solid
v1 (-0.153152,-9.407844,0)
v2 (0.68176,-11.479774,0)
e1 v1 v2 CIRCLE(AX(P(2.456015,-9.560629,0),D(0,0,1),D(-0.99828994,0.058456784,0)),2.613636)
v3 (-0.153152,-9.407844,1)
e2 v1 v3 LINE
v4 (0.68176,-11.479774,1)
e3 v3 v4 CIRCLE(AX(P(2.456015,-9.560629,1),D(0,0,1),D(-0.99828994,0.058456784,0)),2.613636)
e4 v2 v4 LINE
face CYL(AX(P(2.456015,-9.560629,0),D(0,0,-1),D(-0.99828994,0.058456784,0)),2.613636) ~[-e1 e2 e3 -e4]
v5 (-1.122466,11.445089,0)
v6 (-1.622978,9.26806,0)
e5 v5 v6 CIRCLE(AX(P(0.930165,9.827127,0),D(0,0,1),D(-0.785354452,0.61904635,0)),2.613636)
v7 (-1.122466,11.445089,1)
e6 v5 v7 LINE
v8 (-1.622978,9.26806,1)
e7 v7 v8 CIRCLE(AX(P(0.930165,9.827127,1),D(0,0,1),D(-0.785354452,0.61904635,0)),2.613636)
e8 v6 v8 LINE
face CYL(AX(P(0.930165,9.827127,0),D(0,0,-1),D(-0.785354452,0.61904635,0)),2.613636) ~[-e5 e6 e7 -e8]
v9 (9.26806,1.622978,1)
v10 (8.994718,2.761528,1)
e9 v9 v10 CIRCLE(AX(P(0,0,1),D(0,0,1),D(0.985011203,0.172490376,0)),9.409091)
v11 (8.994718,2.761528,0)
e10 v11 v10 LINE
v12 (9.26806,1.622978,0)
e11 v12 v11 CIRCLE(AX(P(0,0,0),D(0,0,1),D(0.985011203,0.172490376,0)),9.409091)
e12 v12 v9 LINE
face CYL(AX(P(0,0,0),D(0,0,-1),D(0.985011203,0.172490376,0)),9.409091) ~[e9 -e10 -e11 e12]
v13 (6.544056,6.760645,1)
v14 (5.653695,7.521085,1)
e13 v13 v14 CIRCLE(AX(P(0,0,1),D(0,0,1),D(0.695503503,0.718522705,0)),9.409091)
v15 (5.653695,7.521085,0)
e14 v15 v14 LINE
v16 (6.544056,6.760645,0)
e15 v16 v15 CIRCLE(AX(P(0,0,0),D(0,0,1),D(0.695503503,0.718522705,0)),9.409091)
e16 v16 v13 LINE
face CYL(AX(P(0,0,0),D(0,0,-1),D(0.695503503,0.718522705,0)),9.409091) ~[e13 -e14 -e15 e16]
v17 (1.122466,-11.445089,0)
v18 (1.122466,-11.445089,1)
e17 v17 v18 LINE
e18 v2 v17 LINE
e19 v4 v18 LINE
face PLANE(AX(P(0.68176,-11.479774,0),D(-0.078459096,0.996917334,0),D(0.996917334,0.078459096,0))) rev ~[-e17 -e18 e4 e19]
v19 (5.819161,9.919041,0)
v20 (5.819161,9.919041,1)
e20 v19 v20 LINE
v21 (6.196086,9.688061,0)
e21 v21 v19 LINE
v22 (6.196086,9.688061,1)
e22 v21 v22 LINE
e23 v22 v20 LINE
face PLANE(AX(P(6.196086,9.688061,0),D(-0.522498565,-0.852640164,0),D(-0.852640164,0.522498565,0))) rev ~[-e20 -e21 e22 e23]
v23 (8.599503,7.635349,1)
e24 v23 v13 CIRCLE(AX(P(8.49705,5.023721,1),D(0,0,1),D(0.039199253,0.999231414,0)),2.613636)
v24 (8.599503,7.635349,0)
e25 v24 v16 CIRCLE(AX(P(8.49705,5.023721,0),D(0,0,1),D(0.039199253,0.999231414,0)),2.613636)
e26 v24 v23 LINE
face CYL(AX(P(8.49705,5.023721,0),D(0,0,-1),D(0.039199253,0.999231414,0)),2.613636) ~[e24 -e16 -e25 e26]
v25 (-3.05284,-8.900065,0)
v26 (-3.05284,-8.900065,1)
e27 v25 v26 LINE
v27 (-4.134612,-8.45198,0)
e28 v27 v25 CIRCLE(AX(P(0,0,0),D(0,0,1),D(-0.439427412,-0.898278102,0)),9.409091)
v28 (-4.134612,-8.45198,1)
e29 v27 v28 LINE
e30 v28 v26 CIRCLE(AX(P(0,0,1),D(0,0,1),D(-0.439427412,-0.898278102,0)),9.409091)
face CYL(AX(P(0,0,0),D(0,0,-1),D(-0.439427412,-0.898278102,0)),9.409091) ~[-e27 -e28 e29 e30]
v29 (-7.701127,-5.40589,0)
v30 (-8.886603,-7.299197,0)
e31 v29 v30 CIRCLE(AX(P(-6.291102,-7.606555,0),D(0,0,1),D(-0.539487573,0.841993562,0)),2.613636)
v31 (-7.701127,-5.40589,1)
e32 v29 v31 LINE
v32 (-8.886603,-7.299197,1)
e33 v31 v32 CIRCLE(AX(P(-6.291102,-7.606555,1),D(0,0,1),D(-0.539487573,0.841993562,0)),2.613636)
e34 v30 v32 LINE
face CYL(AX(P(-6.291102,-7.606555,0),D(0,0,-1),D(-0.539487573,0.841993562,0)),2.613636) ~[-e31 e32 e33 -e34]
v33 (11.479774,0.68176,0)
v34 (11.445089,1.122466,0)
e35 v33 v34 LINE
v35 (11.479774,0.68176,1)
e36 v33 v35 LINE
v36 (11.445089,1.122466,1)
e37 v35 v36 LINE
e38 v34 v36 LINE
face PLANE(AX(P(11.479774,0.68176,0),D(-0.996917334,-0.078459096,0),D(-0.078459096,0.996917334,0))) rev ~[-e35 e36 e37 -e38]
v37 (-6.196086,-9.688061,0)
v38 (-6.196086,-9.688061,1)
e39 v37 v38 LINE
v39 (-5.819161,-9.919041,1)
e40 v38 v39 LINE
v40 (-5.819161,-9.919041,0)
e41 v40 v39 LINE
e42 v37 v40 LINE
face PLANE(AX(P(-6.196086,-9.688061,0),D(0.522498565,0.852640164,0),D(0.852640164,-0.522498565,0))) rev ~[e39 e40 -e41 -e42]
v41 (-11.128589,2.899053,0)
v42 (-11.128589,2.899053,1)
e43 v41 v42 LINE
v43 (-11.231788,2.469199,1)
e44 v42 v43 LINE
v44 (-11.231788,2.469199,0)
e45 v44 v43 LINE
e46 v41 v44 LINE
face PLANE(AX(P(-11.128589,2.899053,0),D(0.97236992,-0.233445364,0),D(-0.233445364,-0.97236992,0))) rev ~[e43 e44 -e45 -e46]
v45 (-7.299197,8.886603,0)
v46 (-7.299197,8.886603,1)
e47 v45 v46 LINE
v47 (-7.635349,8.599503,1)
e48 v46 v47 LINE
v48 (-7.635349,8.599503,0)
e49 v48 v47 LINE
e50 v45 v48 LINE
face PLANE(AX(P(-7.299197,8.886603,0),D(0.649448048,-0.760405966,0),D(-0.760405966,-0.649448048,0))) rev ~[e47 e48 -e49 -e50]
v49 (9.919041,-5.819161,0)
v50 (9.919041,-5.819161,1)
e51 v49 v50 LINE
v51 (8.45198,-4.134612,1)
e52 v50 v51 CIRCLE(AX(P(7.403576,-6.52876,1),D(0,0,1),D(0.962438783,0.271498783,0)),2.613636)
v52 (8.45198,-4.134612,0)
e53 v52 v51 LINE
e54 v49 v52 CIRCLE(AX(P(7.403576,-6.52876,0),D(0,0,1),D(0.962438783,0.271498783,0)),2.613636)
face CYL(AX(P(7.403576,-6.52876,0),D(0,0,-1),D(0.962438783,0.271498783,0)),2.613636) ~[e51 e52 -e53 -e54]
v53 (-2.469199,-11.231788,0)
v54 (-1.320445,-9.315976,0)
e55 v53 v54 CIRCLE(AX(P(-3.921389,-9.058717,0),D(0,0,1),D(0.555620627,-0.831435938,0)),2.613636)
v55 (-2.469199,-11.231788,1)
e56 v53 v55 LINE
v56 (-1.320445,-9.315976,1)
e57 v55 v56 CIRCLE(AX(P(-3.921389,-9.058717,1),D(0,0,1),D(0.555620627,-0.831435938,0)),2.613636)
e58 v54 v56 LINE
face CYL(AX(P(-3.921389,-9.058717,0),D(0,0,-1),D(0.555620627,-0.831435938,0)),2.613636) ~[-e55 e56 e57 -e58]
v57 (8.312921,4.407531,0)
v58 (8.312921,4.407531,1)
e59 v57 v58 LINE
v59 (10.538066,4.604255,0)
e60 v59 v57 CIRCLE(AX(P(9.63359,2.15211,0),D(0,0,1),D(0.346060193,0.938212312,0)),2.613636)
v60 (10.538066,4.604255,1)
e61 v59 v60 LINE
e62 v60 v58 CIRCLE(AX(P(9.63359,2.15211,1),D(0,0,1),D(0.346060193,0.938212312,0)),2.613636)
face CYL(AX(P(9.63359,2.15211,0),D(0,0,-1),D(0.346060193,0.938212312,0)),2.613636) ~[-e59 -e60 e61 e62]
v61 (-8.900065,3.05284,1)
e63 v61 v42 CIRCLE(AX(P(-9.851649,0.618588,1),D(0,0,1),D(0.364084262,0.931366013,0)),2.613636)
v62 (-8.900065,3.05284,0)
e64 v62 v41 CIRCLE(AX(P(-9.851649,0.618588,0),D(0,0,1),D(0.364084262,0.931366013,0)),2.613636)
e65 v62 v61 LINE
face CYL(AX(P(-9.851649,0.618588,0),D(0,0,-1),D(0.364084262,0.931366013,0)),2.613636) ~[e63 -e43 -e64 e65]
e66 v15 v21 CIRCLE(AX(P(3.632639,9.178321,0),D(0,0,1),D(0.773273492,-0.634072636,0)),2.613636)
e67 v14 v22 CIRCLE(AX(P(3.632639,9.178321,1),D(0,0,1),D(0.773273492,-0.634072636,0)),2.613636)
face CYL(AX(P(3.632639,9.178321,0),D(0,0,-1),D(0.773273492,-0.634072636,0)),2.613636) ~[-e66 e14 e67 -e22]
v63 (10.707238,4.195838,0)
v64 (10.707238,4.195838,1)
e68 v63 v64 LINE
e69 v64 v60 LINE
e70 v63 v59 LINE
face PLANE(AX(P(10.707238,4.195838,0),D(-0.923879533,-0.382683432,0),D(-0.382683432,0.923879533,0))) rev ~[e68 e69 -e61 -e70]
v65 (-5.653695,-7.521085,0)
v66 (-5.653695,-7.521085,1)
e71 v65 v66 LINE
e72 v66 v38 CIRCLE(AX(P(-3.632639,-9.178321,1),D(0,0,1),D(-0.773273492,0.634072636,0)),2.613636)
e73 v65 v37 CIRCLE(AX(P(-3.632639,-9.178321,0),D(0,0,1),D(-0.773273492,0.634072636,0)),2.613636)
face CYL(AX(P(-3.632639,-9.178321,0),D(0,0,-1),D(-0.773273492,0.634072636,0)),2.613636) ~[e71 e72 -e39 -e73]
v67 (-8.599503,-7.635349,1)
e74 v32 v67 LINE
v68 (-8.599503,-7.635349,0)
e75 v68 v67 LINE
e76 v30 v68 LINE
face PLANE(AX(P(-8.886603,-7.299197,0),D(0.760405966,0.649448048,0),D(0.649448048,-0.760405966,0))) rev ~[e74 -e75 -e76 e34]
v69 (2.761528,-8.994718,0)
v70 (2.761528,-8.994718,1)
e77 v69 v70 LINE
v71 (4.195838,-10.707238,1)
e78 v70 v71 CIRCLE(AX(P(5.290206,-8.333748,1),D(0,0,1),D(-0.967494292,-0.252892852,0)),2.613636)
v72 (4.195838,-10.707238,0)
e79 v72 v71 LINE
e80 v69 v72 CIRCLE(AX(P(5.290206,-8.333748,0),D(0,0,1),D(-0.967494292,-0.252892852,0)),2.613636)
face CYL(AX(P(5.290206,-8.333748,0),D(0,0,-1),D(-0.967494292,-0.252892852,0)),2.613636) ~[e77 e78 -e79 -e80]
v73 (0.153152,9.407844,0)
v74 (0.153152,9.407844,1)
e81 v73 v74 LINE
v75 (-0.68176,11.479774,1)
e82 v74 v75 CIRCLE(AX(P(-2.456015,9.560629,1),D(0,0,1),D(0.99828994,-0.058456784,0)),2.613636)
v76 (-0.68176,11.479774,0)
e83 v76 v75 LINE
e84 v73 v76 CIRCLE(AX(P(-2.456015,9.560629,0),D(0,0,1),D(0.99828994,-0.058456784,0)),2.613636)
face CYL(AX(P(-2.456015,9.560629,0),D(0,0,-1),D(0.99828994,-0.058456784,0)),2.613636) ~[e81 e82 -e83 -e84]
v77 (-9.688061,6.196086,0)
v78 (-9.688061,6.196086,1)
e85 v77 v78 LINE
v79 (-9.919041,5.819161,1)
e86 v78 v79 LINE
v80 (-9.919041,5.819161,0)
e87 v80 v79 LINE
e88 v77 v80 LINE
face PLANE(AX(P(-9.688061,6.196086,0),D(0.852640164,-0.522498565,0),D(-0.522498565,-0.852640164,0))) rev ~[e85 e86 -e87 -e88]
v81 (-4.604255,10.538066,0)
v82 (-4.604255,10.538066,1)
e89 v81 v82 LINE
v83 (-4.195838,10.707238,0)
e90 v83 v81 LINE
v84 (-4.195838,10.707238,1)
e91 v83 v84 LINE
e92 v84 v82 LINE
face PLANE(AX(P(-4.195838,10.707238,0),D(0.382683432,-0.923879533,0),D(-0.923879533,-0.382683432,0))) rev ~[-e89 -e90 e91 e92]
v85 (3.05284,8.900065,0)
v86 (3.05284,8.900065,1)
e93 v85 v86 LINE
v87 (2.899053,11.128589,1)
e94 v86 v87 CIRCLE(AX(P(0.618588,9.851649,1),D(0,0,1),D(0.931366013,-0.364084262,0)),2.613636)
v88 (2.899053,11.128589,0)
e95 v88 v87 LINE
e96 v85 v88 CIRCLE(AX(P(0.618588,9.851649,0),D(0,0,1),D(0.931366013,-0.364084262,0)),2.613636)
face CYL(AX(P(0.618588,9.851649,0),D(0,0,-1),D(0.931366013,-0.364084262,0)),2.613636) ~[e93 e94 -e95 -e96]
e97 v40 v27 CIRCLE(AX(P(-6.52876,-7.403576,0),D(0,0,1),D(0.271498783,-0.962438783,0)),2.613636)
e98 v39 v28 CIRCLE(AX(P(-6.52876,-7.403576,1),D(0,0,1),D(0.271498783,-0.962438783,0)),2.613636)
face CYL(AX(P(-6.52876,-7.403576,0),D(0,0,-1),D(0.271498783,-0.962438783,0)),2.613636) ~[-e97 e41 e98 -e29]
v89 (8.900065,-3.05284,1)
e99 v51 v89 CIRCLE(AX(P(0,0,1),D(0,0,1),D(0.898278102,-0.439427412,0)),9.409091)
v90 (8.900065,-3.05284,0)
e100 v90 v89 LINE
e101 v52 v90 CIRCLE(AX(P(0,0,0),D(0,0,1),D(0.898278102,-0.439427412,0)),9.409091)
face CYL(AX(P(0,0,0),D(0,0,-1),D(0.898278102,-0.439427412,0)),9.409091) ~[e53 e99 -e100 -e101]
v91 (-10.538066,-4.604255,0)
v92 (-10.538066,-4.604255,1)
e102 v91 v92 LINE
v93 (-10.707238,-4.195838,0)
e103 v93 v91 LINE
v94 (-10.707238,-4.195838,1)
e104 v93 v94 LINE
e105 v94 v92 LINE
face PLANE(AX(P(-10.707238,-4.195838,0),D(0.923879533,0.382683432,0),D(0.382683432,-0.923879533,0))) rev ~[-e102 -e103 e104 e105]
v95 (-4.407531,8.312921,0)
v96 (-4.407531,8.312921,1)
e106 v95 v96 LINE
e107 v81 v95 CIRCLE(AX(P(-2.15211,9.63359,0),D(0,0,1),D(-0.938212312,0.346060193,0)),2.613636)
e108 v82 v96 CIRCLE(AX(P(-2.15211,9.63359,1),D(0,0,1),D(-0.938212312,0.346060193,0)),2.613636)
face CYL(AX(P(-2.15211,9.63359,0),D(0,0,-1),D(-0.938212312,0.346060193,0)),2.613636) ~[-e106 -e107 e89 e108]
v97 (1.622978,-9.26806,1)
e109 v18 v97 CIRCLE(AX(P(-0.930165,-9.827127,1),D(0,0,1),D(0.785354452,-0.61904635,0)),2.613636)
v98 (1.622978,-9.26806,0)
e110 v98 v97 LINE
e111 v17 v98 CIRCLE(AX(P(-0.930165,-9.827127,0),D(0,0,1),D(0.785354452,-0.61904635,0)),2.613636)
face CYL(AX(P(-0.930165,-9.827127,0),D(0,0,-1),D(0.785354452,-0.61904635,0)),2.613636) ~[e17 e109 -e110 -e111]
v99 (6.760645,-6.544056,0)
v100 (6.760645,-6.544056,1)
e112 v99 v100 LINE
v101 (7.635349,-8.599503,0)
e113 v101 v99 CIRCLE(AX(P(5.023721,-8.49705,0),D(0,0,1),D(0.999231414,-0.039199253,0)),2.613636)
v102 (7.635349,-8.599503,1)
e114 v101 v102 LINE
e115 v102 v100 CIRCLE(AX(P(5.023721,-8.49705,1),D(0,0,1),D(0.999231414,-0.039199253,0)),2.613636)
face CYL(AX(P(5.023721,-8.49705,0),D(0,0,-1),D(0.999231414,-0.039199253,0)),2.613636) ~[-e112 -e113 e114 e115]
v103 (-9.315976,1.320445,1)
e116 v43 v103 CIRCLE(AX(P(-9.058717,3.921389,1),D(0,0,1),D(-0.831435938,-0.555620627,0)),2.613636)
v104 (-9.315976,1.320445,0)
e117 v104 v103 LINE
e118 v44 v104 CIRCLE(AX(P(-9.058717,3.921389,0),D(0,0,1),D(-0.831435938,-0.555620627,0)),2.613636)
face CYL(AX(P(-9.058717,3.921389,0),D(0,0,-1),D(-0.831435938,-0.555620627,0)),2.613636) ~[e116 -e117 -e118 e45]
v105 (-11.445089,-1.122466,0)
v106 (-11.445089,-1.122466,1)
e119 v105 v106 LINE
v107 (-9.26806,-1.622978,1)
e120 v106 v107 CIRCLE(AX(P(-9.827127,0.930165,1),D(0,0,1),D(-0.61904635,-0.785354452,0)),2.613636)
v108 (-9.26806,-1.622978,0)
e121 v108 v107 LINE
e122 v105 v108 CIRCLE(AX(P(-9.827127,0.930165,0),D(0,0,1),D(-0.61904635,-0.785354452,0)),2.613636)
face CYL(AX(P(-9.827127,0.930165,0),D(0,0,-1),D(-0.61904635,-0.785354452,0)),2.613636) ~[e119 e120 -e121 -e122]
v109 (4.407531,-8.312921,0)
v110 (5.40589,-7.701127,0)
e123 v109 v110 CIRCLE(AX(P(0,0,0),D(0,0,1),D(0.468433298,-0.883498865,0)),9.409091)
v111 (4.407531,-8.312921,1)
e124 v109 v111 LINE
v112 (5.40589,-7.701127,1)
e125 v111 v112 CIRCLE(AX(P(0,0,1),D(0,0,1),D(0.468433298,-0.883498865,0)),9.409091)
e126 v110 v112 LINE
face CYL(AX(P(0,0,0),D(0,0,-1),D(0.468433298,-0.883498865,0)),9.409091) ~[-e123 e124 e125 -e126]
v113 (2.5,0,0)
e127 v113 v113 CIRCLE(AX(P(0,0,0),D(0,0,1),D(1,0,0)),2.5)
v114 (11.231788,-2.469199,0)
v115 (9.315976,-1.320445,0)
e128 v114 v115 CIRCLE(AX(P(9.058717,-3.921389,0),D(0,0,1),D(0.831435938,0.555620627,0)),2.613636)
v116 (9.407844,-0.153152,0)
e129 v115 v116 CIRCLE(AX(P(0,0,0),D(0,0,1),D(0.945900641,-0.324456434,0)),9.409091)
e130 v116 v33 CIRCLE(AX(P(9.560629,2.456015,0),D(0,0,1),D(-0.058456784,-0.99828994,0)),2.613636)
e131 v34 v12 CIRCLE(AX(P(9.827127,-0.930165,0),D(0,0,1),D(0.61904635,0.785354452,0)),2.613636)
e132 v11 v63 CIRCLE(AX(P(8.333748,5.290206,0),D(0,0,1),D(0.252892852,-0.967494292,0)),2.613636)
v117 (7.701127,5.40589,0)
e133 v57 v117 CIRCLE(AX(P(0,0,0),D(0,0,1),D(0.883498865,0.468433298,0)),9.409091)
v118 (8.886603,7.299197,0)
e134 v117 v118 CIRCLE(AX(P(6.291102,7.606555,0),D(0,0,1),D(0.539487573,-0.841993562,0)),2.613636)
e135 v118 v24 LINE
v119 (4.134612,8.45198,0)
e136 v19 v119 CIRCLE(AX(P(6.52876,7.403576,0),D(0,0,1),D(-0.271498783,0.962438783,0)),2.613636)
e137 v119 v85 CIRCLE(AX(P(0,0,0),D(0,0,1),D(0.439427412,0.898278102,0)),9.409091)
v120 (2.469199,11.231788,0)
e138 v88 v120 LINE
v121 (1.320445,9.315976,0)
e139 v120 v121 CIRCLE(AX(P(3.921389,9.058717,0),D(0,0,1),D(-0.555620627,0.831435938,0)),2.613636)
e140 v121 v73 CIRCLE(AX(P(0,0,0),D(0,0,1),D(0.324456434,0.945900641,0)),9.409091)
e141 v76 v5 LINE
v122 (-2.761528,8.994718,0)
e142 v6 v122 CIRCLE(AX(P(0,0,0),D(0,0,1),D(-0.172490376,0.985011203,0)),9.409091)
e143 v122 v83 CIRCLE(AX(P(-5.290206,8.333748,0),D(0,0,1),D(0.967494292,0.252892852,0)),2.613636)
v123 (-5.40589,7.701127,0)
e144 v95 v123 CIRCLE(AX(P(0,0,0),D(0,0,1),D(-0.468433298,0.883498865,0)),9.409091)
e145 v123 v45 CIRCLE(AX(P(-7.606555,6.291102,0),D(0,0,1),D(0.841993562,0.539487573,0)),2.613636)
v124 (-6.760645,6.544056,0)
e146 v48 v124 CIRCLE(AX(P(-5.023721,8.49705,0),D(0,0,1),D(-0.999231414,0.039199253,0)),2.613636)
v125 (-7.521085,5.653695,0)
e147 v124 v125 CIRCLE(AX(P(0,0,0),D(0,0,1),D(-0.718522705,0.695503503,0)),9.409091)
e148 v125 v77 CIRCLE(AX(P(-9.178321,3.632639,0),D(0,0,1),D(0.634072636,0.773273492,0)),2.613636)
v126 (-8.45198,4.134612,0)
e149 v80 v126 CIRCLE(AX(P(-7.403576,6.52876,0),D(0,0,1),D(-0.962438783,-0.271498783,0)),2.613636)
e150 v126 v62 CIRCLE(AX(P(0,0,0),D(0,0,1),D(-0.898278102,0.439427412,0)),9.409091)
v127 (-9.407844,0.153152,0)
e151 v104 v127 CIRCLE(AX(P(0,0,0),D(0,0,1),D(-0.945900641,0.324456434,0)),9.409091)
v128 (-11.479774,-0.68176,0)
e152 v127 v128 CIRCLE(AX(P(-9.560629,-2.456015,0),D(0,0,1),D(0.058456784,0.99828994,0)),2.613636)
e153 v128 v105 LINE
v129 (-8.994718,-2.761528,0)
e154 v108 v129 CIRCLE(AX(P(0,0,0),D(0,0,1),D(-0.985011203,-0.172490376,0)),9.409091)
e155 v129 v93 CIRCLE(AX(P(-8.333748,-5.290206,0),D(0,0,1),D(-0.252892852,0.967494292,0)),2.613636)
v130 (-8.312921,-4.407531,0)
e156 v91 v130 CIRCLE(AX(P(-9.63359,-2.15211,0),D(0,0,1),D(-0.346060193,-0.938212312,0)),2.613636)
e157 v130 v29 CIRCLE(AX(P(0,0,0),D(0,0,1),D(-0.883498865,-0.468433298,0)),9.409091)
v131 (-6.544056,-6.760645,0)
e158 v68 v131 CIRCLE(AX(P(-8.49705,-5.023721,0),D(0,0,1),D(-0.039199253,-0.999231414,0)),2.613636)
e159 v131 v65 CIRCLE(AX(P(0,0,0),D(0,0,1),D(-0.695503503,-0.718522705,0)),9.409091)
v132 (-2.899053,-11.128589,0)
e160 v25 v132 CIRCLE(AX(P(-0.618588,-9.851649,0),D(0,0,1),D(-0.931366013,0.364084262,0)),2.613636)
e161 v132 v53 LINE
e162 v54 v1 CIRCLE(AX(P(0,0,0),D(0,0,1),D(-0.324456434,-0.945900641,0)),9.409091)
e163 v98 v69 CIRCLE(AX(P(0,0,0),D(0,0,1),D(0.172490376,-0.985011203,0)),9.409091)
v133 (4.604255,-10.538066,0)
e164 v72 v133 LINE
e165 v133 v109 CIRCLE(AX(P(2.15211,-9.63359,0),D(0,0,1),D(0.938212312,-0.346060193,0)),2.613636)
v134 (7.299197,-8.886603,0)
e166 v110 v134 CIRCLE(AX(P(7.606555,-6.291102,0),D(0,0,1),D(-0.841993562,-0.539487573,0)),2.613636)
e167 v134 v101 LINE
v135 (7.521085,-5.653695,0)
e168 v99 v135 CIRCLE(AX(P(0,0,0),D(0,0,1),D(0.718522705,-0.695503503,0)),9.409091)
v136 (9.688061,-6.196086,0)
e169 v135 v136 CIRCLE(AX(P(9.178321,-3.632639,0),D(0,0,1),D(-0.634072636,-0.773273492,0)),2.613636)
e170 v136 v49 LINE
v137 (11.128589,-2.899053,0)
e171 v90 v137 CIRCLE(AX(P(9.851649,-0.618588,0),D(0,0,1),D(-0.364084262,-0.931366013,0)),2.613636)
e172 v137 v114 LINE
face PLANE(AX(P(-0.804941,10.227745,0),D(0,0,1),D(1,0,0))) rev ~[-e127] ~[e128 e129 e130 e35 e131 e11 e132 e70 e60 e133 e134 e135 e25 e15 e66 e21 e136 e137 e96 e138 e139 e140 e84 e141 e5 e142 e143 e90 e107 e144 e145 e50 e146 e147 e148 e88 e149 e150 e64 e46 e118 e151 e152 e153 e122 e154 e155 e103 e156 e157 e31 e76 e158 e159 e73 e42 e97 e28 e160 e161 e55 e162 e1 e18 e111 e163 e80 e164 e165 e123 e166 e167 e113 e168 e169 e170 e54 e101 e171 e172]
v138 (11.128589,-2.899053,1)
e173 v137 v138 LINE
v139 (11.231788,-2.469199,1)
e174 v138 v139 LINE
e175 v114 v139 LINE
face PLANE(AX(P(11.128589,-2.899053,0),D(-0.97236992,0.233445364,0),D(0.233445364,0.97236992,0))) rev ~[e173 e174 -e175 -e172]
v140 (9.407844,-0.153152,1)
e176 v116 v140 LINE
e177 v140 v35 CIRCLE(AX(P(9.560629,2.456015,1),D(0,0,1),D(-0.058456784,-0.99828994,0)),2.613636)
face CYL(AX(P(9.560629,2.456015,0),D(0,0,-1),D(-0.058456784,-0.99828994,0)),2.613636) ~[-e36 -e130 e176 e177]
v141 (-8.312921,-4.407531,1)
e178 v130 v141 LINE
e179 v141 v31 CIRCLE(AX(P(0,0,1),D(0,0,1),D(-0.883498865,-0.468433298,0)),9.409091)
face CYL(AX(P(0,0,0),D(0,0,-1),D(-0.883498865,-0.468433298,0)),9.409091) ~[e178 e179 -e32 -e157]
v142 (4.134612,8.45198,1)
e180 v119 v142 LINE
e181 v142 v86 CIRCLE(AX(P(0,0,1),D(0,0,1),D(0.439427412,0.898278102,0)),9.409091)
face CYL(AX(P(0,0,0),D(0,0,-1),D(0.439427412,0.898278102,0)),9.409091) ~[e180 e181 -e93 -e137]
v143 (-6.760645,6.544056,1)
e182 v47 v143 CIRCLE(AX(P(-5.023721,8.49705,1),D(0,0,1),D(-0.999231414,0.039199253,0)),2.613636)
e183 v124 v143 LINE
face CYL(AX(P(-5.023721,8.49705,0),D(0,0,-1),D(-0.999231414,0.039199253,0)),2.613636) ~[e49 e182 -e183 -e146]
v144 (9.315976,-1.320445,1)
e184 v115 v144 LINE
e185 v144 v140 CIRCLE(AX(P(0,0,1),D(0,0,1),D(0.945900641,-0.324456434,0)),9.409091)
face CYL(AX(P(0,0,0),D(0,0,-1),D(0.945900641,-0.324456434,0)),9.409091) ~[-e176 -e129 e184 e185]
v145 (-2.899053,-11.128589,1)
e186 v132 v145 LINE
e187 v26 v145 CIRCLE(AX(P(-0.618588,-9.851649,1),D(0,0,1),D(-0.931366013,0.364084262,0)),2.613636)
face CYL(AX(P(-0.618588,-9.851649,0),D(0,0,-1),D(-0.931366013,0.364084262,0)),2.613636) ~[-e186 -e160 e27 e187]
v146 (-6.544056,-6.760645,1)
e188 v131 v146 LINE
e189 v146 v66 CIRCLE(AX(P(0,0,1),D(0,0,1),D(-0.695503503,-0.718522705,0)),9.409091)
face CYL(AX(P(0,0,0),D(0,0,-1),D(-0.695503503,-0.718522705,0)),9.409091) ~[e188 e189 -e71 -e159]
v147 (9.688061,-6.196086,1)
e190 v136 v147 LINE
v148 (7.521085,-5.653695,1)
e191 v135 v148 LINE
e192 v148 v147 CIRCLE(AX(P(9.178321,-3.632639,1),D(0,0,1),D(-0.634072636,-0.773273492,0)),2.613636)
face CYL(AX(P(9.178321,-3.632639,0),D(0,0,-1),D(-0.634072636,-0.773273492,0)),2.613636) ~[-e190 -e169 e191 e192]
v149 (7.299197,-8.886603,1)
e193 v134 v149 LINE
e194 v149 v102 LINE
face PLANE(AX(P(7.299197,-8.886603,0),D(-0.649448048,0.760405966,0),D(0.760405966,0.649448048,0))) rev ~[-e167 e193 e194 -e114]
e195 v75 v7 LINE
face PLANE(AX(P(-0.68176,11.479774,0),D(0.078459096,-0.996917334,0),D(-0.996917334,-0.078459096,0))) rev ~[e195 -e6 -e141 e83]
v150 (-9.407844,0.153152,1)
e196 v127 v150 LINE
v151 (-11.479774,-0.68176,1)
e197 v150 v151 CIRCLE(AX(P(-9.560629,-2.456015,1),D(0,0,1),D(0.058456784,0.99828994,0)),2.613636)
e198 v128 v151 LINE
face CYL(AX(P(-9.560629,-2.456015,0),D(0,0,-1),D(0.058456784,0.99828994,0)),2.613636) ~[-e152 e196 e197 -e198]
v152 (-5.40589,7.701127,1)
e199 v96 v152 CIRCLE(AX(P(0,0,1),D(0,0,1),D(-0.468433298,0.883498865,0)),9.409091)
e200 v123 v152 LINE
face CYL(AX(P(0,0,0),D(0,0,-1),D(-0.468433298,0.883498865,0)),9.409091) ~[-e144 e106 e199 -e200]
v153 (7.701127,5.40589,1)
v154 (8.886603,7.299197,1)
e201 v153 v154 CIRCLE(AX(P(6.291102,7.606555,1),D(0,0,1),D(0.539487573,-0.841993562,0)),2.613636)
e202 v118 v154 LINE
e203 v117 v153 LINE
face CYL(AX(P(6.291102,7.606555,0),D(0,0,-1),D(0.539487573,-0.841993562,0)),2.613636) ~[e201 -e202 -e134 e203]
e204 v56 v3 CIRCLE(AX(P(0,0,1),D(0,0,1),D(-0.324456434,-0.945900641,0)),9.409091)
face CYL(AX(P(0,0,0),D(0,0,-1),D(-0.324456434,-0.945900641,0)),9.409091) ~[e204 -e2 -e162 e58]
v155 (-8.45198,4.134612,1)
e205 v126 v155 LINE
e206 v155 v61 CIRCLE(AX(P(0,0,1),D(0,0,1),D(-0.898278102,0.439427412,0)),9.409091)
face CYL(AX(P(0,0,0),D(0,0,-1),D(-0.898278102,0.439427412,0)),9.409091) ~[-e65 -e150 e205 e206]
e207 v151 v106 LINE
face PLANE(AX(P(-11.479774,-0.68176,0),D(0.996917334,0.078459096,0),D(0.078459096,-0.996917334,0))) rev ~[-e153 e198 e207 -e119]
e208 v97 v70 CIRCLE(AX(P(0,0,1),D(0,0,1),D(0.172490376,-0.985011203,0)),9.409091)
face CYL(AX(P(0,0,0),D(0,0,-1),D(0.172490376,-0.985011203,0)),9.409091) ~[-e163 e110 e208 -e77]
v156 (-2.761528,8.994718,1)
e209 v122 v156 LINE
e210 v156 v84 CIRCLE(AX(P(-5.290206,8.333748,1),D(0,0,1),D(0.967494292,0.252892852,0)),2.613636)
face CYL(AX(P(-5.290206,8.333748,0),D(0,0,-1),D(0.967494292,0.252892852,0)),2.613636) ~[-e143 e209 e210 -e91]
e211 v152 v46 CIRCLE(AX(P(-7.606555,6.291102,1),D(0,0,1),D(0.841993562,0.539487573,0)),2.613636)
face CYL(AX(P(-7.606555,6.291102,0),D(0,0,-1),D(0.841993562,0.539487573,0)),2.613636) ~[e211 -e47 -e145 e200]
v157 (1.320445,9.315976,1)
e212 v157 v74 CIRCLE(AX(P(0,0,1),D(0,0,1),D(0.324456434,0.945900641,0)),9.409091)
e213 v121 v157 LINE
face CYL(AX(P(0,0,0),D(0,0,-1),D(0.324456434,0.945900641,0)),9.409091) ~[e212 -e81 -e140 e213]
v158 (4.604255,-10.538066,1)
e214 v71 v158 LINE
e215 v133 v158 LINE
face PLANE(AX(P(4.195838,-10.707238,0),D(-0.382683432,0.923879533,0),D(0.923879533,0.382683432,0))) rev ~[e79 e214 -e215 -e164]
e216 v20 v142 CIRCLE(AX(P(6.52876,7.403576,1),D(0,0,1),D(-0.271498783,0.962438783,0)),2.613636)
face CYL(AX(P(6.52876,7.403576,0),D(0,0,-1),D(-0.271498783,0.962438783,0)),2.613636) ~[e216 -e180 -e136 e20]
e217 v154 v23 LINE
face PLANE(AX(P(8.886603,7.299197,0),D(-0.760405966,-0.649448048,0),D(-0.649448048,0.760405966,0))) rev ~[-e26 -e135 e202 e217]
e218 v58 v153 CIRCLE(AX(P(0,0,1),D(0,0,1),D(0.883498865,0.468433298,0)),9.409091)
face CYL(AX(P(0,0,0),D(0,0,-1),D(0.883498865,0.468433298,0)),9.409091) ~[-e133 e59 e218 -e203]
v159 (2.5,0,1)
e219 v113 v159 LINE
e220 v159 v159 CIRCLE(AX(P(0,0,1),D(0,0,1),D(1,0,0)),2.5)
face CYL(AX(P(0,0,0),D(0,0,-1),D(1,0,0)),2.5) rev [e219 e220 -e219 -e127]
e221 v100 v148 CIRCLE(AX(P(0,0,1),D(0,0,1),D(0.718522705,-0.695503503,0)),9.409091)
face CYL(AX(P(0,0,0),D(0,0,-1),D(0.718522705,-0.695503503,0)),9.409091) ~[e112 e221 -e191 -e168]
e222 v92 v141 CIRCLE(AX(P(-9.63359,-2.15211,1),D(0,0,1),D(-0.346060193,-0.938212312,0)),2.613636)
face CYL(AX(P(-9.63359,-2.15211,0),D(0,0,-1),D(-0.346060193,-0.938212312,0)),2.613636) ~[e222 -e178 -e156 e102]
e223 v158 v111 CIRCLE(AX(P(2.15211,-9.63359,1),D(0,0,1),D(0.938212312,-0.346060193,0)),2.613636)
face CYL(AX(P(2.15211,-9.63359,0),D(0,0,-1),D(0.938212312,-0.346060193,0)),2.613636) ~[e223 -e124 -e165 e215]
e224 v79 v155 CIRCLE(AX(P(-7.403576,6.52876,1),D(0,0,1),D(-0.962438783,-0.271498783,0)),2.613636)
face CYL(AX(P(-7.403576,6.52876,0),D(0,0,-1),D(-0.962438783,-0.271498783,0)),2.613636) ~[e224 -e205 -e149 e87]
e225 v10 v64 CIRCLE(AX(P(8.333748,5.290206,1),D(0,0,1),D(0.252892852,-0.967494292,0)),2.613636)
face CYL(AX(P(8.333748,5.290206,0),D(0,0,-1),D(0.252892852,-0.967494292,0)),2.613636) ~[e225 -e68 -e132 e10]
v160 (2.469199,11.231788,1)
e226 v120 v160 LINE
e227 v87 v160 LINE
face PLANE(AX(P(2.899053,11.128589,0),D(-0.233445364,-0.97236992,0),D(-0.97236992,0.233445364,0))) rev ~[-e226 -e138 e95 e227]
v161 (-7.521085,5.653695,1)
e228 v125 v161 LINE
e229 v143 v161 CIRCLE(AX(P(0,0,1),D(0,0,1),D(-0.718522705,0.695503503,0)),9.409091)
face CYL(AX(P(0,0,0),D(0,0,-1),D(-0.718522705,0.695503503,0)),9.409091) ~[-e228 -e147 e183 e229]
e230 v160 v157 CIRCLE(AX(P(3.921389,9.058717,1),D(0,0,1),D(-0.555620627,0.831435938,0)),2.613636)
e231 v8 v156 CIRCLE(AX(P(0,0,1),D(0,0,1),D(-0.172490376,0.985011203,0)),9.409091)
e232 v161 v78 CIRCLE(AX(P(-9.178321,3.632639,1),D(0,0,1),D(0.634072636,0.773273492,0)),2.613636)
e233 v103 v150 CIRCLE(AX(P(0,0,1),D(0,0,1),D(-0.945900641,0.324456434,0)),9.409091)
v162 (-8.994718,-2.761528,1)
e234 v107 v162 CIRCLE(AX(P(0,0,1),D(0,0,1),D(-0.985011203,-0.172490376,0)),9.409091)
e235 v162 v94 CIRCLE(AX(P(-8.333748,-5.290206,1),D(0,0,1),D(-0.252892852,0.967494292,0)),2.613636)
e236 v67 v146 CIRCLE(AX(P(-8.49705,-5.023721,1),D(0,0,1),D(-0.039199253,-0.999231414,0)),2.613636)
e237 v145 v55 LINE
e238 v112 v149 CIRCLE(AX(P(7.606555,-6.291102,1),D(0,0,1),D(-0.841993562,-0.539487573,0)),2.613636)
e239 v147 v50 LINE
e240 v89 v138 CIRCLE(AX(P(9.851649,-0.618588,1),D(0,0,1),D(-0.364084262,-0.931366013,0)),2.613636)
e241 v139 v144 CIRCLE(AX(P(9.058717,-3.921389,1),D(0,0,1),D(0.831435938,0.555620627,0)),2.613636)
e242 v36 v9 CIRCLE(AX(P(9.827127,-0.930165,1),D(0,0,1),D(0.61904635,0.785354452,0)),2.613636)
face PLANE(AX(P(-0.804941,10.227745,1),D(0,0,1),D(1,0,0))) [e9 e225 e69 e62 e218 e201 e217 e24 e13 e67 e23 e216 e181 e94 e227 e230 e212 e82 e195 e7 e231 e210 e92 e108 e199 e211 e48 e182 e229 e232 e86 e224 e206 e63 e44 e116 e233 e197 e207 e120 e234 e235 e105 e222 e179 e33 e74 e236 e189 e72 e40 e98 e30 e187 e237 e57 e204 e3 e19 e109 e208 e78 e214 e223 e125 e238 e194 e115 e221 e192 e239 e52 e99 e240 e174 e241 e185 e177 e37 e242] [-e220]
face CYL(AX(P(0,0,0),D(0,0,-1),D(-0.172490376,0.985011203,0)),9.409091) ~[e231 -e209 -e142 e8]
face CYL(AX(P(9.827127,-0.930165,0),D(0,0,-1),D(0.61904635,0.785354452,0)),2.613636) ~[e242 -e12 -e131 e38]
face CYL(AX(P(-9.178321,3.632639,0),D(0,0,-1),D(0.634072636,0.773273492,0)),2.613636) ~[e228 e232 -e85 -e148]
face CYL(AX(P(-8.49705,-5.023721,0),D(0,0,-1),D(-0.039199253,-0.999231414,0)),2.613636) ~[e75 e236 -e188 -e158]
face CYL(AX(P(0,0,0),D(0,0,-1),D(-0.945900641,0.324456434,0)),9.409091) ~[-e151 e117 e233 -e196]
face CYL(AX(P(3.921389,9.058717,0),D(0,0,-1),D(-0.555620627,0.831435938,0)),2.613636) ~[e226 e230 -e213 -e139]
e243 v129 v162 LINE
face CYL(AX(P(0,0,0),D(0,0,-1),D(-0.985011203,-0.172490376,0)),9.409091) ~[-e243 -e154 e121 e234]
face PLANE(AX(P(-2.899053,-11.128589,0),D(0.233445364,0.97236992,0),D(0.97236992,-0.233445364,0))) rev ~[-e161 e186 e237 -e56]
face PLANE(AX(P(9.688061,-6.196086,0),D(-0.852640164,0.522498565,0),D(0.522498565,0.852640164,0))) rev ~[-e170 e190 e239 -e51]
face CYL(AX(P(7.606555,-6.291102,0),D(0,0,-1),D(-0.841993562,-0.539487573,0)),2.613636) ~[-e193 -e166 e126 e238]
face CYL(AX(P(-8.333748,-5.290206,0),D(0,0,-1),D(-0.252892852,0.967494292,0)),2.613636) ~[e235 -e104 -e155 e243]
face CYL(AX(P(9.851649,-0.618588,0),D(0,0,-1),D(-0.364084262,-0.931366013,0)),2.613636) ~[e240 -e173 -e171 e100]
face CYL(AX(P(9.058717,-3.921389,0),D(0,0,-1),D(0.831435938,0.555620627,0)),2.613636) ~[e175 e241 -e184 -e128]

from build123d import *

# Parameters (mm, degrees)
F1_R     = 2.5
F2_DEPTH = 1


with BuildPart() as f2:
    # F1 (on Top) → F2 (new body)
    with BuildSketch(Plane.XY):
        with BuildLine():
            ThreePointArc((-1.6229776334, 9.2680599554), (-0.7382287643, 9.3800858219), (0.1531520845, 9.4078443957))
            ThreePointArc((0.1531520845, 9.4078443957), (-0.0317997207, 10.5374998224), (-0.6817601701, 11.4797736507))
            Line((-0.6817601701, 11.4797736507), (-1.1224656787, 11.4450893749))
            ThreePointArc((-1.1224656787, 11.4450893749), (-1.6170199342, 10.4127402859), (-1.6229776334, 9.2680599554))
        make_face()
        with BuildLine():
            ThreePointArc((9.4078443957, -0.1531520845), (9.4087792756, -0.0765785786), (9.4090909091, 0))
            ThreePointArc((9.4090909091, 0), (9.3737668631, 0.8145468262), (9.2680599554, 1.6229776334))
            ThreePointArc((9.2680599554, 1.6229776334), (9.1491169783, 2.1965086508), (8.9947183137, 2.7615275108))
            ThreePointArc((8.9947183137, 2.7615275108), (8.6928665104, 3.6007032045), (8.3129211438, 4.4075314852))
            ThreePointArc((8.3129211438, 4.4075314852), (8.0225688191, 4.9162364953), (7.7011265332, 5.4058895526))
            ThreePointArc((7.7011265332, 5.4058895526), (7.1547288581, 6.1107157275), (6.5440556911, 6.7606454461))
            ThreePointArc((6.5440556911, 6.7606454461), (6.1107157275, 7.1547288581), (5.6536948308, 7.52108546))
            ThreePointArc((5.6536948308, 7.52108546), (4.9162364953, 8.0225688191), (4.1346124722, 8.4519803265))
            ThreePointArc((4.1346124722, 8.4519803265), (3.6007032045, 8.6928665104), (3.0528400867, 8.90006512))
            ThreePointArc((3.0528400867, 8.90006512), (2.1965086508, 9.1491169783), (1.320444577, 9.3159764842))
            ThreePointArc((1.320444577, 9.3159764842), (0.7382287643, 9.3800858219), (0.1531520845, 9.4078443957))
            ThreePointArc((0.1531520845, 9.4078443957), (-0.7382287643, 9.3800858219), (-1.6229776334, 9.2680599554))
            ThreePointArc((-1.6229776334, 9.2680599554), (-2.1965086508, 9.1491169783), (-2.7615275108, 8.9947183137))
            ThreePointArc((-2.7615275108, 8.9947183137), (-3.6007032045, 8.6928665104), (-4.4075314852, 8.3129211438))
            ThreePointArc((-4.4075314852, 8.3129211438), (-4.9162364953, 8.0225688191), (-5.4058895526, 7.7011265332))
            ThreePointArc((-5.4058895526, 7.7011265332), (-6.1107157275, 7.1547288581), (-6.7606454461, 6.5440556911))
            ThreePointArc((-6.7606454461, 6.5440556911), (-7.1547288581, 6.1107157275), (-7.52108546, 5.6536948308))
            ThreePointArc((-7.52108546, 5.6536948308), (-8.0225688191, 4.9162364953), (-8.4519803265, 4.1346124722))
            ThreePointArc((-8.4519803265, 4.1346124722), (-8.6928665104, 3.6007032045), (-8.90006512, 3.0528400867))
            ThreePointArc((-8.90006512, 3.0528400867), (-9.1491169783, 2.1965086508), (-9.3159764842, 1.320444577))
            ThreePointArc((-9.3159764842, 1.320444577), (-9.3800858219, 0.7382287643), (-9.4078443957, 0.1531520845))
            ThreePointArc((-9.4078443957, 0.1531520845), (-9.3800858219, -0.7382287643), (-9.2680599554, -1.6229776334))
            ThreePointArc((-9.2680599554, -1.6229776334), (-9.1491169783, -2.1965086508), (-8.9947183137, -2.7615275108))
            ThreePointArc((-8.9947183137, -2.7615275108), (-8.6928665104, -3.6007032045), (-8.3129211438, -4.4075314852))
            ThreePointArc((-8.3129211438, -4.4075314852), (-8.0225688191, -4.9162364953), (-7.7011265332, -5.4058895526))
            ThreePointArc((-7.7011265332, -5.4058895526), (-7.1547288581, -6.1107157275), (-6.5440556911, -6.7606454461))
            ThreePointArc((-6.5440556911, -6.7606454461), (-6.1107157275, -7.1547288581), (-5.6536948308, -7.52108546))
            ThreePointArc((-5.6536948308, -7.52108546), (-4.9162364953, -8.0225688191), (-4.1346124722, -8.4519803265))
            ThreePointArc((-4.1346124722, -8.4519803265), (-3.6007032045, -8.6928665104), (-3.0528400867, -8.90006512))
            ThreePointArc((-3.0528400867, -8.90006512), (-2.1965086508, -9.1491169783), (-1.320444577, -9.3159764842))
            ThreePointArc((-1.320444577, -9.3159764842), (-0.7382287643, -9.3800858219), (-0.1531520845, -9.4078443957))
            ThreePointArc((-0.1531520845, -9.4078443957), (0.7382287643, -9.3800858219), (1.6229776334, -9.2680599554))
            ThreePointArc((1.6229776334, -9.2680599554), (2.1965086508, -9.1491169783), (2.7615275108, -8.9947183137))
            ThreePointArc((2.7615275108, -8.9947183137), (3.6007032045, -8.6928665104), (4.4075314852, -8.3129211438))
            ThreePointArc((4.4075314852, -8.3129211438), (4.9162364953, -8.0225688191), (5.4058895526, -7.7011265332))
            ThreePointArc((5.4058895526, -7.7011265332), (6.1107157275, -7.1547288581), (6.7606454461, -6.5440556911))
            ThreePointArc((6.7606454461, -6.5440556911), (7.1547288581, -6.1107157275), (7.52108546, -5.6536948308))
            ThreePointArc((7.52108546, -5.6536948308), (8.0225688191, -4.9162364953), (8.4519803265, -4.1346124722))
            ThreePointArc((8.4519803265, -4.1346124722), (8.6928665104, -3.6007032045), (8.90006512, -3.0528400867))
            ThreePointArc((8.90006512, -3.0528400867), (9.1491169783, -2.1965086508), (9.3159764842, -1.320444577))
            ThreePointArc((9.3159764842, -1.320444577), (9.3800858219, -0.7382287643), (9.4078443957, -0.1531520845))
        make_face()
        Circle(F1_R, mode=Mode.SUBTRACT)
        with BuildLine():
            ThreePointArc((-4.4075314852, 8.3129211438), (-3.6007032045, 8.6928665104), (-2.7615275108, 8.9947183137))
            ThreePointArc((-2.7615275108, 8.9947183137), (-3.286509855, 10.0119312174), (-4.195837602, 10.7072380574))
            Line((-4.195837602, 10.7072380574), (-4.604255417, 10.5380658593))
            ThreePointArc((-4.604255417, 10.5380658593), (-4.7555910517, 9.4034178615), (-4.4075314852, 8.3129211438))
        make_face()
        with BuildLine():
            ThreePointArc((-6.7606454461, 6.5440556911), (-6.1107157275, 7.1547288581), (-5.4058895526, 7.7011265332))
            ThreePointArc((-5.4058895526, 7.7011265332), (-6.2195135061, 8.5063250277), (-7.2991972152, 8.8866034014))
            Line((-7.2991972152, 8.8866034014), (-7.6353485554, 8.5995030343))
            ThreePointArc((-7.6353485554, 8.5995030343), (-7.428651783, 7.4736233793), (-6.7606454461, 6.5440556911))
        make_face()
        with BuildLine():
            ThreePointArc((-8.4519803265, 4.1346124722), (-8.0225688191, 4.9162364953), (-7.52108546, 5.6536948308))
            ThreePointArc((-7.52108546, 5.6536948308), (-8.5437078414, 6.1680604771), (-9.6880605486, 6.1960860878))
            Line((-9.6880605486, 6.1960860878), (-9.9190405786, 5.8191609361))
            ThreePointArc((-9.9190405786, 5.8191609361), (-9.3745443193, 4.812258569), (-8.4519803265, 4.1346124722))
        make_face()
        with BuildLine():
            ThreePointArc((-9.3159764842, 1.320444577), (-9.1491169783, 2.1965086508), (-8.90006512, 3.0528400867))
            ThreePointArc((-8.90006512, 3.0528400867), (-10.0315845257, 3.2260231917), (-11.1285890147, 2.8990526973))
            Line((-11.1285890147, 2.8990526973), (-11.2317877999, 2.469198821))
            ThreePointArc((-11.2317877999, 2.469198821), (-10.4027911413, 1.679836361), (-9.3159764842, 1.320444577))
        make_face()
        with BuildLine():
            ThreePointArc((-9.2680599554, -1.6229776334), (-9.3800858219, -0.7382287643), (-9.4078443957, 0.1531520845))
            ThreePointArc((-9.4078443957, 0.1531520845), (-10.5374998224, -0.0317997207), (-11.4797736507, -0.6817601701))
            Line((-11.4797736507, -0.6817601701), (-11.4450893749, -1.1224656787))
            ThreePointArc((-11.4450893749, -1.1224656787), (-10.4127402859, -1.6170199342), (-9.2680599554, -1.6229776334))
        make_face()
        with BuildLine():
            ThreePointArc((-10.5380658593, -4.604255417), (-9.4034178615, -4.7555910517), (-8.3129211438, -4.4075314852))
            ThreePointArc((-8.3129211438, -4.4075314852), (-8.6928665104, -3.6007032045), (-8.9947183137, -2.7615275108))
            ThreePointArc((-8.9947183137, -2.7615275108), (-10.0119312174, -3.286509855), (-10.7072380574, -4.195837602))
            Line((-10.7072380574, -4.195837602), (-10.5380658593, -4.604255417))
        make_face()
        with BuildLine():
            ThreePointArc((-8.5995030343, -7.6353485554), (-7.4736233793, -7.428651783), (-6.5440556911, -6.7606454461))
            ThreePointArc((-6.5440556911, -6.7606454461), (-7.1547288581, -6.1107157275), (-7.7011265332, -5.4058895526))
            ThreePointArc((-7.7011265332, -5.4058895526), (-8.5063250277, -6.2195135061), (-8.8866034014, -7.2991972152))
            Line((-8.8866034014, -7.2991972152), (-8.5995030343, -7.6353485554))
        make_face()
        with BuildLine():
            ThreePointArc((-5.8191609361, -9.9190405786), (-4.812258569, -9.3745443193), (-4.1346124722, -8.4519803265))
            ThreePointArc((-4.1346124722, -8.4519803265), (-4.9162364953, -8.0225688191), (-5.6536948308, -7.52108546))
            ThreePointArc((-5.6536948308, -7.52108546), (-6.1680604771, -8.5437078414), (-6.1960860878, -9.6880605486))
            Line((-6.1960860878, -9.6880605486), (-5.8191609361, -9.9190405786))
        make_face()
        with BuildLine():
            ThreePointArc((-2.469198821, -11.2317877999), (-1.679836361, -10.4027911413), (-1.320444577, -9.3159764842))
            ThreePointArc((-1.320444577, -9.3159764842), (-2.1965086508, -9.1491169783), (-3.0528400867, -8.90006512))
            ThreePointArc((-3.0528400867, -8.90006512), (-3.2260231917, -10.0315845257), (-2.8990526973, -11.1285890147))
            Line((-2.8990526973, -11.1285890147), (-2.469198821, -11.2317877999))
        make_face()
        with BuildLine():
            ThreePointArc((1.1224656787, -11.4450893749), (1.6170199342, -10.4127402859), (1.6229776334, -9.2680599554))
            ThreePointArc((1.6229776334, -9.2680599554), (0.7382287643, -9.3800858219), (-0.1531520845, -9.4078443957))
            ThreePointArc((-0.1531520845, -9.4078443957), (0.0317997207, -10.5374998224), (0.6817601701, -11.4797736507))
            Line((0.6817601701, -11.4797736507), (1.1224656787, -11.4450893749))
        make_face()
        with BuildLine():
            ThreePointArc((4.604255417, -10.5380658593), (4.7555910517, -9.4034178615), (4.4075314852, -8.3129211438))
            ThreePointArc((4.4075314852, -8.3129211438), (3.6007032045, -8.6928665104), (2.7615275108, -8.9947183137))
            ThreePointArc((2.7615275108, -8.9947183137), (3.286509855, -10.0119312174), (4.195837602, -10.7072380574))
            Line((4.195837602, -10.7072380574), (4.604255417, -10.5380658593))
        make_face()
        with BuildLine():
            ThreePointArc((7.6353485554, -8.5995030343), (7.428651783, -7.4736233793), (6.7606454461, -6.5440556911))
            ThreePointArc((6.7606454461, -6.5440556911), (6.1107157275, -7.1547288581), (5.4058895526, -7.7011265332))
            ThreePointArc((5.4058895526, -7.7011265332), (6.2195135061, -8.5063250277), (7.2991972152, -8.8866034014))
            Line((7.2991972152, -8.8866034014), (7.6353485554, -8.5995030343))
        make_face()
        with BuildLine():
            ThreePointArc((9.9190405786, -5.8191609361), (9.3745443193, -4.812258569), (8.4519803265, -4.1346124722))
            ThreePointArc((8.4519803265, -4.1346124722), (8.0225688191, -4.9162364953), (7.52108546, -5.6536948308))
            ThreePointArc((7.52108546, -5.6536948308), (8.5437078414, -6.1680604771), (9.6880605486, -6.1960860878))
            Line((9.6880605486, -6.1960860878), (9.9190405786, -5.8191609361))
        make_face()
        with BuildLine():
            ThreePointArc((11.2317877999, -2.469198821), (10.4027911413, -1.679836361), (9.3159764842, -1.320444577))
            ThreePointArc((9.3159764842, -1.320444577), (9.1491169783, -2.1965086508), (8.90006512, -3.0528400867))
            ThreePointArc((8.90006512, -3.0528400867), (10.0315845257, -3.2260231917), (11.1285890147, -2.8990526973))
            Line((11.1285890147, -2.8990526973), (11.2317877999, -2.469198821))
        make_face()
        with BuildLine():
            ThreePointArc((9.2680599554, 1.6229776334), (9.3737668631, 0.8145468262), (9.4090909091, 0))
            ThreePointArc((9.4090909091, 0), (9.4087792756, -0.0765785786), (9.4078443957, -0.1531520845))
            ThreePointArc((9.4078443957, -0.1531520845), (10.5374998224, 0.0317997207), (11.4797736507, 0.6817601701))
            Line((11.4797736507, 0.6817601701), (11.4450893749, 1.1224656787))
            ThreePointArc((11.4450893749, 1.1224656787), (10.4127402859, 1.6170199342), (9.2680599554, 1.6229776334))
        make_face()
        with BuildLine():
            ThreePointArc((8.3129211438, 4.4075314852), (8.6928665104, 3.6007032045), (8.9947183137, 2.7615275108))
            ThreePointArc((8.9947183137, 2.7615275108), (10.0119312174, 3.286509855), (10.7072380574, 4.195837602))
            Line((10.7072380574, 4.195837602), (10.5380658593, 4.604255417))
            ThreePointArc((10.5380658593, 4.604255417), (9.4034178615, 4.7555910517), (8.3129211438, 4.4075314852))
        make_face()
        with BuildLine():
            ThreePointArc((6.5440556911, 6.7606454461), (7.1547288581, 6.1107157275), (7.7011265332, 5.4058895526))
            ThreePointArc((7.7011265332, 5.4058895526), (8.5063250277, 6.2195135061), (8.8866034014, 7.2991972152))
            Line((8.8866034014, 7.2991972152), (8.5995030343, 7.6353485554))
            ThreePointArc((8.5995030343, 7.6353485554), (7.4736233793, 7.428651783), (6.5440556911, 6.7606454461))
        make_face()
        with BuildLine():
            ThreePointArc((4.1346124722, 8.4519803265), (4.9162364953, 8.0225688191), (5.6536948308, 7.52108546))
            ThreePointArc((5.6536948308, 7.52108546), (6.1680604771, 8.5437078414), (6.1960860878, 9.6880605486))
            Line((6.1960860878, 9.6880605486), (5.8191609361, 9.9190405786))
            ThreePointArc((5.8191609361, 9.9190405786), (4.812258569, 9.3745443193), (4.1346124722, 8.4519803265))
        make_face()
        with BuildLine():
            ThreePointArc((1.320444577, 9.3159764842), (2.1965086508, 9.1491169783), (3.0528400867, 8.90006512))
            ThreePointArc((3.0528400867, 8.90006512), (3.2260231917, 10.0315845257), (2.8990526973, 11.1285890147))
            Line((2.8990526973, 11.1285890147), (2.469198821, 11.2317877999))
            ThreePointArc((2.469198821, 11.2317877999), (1.679836361, 10.4027911413), (1.320444577, 9.3159764842))
        make_face()
    extrude(amount=F2_DEPTH)


solid = f2.part
